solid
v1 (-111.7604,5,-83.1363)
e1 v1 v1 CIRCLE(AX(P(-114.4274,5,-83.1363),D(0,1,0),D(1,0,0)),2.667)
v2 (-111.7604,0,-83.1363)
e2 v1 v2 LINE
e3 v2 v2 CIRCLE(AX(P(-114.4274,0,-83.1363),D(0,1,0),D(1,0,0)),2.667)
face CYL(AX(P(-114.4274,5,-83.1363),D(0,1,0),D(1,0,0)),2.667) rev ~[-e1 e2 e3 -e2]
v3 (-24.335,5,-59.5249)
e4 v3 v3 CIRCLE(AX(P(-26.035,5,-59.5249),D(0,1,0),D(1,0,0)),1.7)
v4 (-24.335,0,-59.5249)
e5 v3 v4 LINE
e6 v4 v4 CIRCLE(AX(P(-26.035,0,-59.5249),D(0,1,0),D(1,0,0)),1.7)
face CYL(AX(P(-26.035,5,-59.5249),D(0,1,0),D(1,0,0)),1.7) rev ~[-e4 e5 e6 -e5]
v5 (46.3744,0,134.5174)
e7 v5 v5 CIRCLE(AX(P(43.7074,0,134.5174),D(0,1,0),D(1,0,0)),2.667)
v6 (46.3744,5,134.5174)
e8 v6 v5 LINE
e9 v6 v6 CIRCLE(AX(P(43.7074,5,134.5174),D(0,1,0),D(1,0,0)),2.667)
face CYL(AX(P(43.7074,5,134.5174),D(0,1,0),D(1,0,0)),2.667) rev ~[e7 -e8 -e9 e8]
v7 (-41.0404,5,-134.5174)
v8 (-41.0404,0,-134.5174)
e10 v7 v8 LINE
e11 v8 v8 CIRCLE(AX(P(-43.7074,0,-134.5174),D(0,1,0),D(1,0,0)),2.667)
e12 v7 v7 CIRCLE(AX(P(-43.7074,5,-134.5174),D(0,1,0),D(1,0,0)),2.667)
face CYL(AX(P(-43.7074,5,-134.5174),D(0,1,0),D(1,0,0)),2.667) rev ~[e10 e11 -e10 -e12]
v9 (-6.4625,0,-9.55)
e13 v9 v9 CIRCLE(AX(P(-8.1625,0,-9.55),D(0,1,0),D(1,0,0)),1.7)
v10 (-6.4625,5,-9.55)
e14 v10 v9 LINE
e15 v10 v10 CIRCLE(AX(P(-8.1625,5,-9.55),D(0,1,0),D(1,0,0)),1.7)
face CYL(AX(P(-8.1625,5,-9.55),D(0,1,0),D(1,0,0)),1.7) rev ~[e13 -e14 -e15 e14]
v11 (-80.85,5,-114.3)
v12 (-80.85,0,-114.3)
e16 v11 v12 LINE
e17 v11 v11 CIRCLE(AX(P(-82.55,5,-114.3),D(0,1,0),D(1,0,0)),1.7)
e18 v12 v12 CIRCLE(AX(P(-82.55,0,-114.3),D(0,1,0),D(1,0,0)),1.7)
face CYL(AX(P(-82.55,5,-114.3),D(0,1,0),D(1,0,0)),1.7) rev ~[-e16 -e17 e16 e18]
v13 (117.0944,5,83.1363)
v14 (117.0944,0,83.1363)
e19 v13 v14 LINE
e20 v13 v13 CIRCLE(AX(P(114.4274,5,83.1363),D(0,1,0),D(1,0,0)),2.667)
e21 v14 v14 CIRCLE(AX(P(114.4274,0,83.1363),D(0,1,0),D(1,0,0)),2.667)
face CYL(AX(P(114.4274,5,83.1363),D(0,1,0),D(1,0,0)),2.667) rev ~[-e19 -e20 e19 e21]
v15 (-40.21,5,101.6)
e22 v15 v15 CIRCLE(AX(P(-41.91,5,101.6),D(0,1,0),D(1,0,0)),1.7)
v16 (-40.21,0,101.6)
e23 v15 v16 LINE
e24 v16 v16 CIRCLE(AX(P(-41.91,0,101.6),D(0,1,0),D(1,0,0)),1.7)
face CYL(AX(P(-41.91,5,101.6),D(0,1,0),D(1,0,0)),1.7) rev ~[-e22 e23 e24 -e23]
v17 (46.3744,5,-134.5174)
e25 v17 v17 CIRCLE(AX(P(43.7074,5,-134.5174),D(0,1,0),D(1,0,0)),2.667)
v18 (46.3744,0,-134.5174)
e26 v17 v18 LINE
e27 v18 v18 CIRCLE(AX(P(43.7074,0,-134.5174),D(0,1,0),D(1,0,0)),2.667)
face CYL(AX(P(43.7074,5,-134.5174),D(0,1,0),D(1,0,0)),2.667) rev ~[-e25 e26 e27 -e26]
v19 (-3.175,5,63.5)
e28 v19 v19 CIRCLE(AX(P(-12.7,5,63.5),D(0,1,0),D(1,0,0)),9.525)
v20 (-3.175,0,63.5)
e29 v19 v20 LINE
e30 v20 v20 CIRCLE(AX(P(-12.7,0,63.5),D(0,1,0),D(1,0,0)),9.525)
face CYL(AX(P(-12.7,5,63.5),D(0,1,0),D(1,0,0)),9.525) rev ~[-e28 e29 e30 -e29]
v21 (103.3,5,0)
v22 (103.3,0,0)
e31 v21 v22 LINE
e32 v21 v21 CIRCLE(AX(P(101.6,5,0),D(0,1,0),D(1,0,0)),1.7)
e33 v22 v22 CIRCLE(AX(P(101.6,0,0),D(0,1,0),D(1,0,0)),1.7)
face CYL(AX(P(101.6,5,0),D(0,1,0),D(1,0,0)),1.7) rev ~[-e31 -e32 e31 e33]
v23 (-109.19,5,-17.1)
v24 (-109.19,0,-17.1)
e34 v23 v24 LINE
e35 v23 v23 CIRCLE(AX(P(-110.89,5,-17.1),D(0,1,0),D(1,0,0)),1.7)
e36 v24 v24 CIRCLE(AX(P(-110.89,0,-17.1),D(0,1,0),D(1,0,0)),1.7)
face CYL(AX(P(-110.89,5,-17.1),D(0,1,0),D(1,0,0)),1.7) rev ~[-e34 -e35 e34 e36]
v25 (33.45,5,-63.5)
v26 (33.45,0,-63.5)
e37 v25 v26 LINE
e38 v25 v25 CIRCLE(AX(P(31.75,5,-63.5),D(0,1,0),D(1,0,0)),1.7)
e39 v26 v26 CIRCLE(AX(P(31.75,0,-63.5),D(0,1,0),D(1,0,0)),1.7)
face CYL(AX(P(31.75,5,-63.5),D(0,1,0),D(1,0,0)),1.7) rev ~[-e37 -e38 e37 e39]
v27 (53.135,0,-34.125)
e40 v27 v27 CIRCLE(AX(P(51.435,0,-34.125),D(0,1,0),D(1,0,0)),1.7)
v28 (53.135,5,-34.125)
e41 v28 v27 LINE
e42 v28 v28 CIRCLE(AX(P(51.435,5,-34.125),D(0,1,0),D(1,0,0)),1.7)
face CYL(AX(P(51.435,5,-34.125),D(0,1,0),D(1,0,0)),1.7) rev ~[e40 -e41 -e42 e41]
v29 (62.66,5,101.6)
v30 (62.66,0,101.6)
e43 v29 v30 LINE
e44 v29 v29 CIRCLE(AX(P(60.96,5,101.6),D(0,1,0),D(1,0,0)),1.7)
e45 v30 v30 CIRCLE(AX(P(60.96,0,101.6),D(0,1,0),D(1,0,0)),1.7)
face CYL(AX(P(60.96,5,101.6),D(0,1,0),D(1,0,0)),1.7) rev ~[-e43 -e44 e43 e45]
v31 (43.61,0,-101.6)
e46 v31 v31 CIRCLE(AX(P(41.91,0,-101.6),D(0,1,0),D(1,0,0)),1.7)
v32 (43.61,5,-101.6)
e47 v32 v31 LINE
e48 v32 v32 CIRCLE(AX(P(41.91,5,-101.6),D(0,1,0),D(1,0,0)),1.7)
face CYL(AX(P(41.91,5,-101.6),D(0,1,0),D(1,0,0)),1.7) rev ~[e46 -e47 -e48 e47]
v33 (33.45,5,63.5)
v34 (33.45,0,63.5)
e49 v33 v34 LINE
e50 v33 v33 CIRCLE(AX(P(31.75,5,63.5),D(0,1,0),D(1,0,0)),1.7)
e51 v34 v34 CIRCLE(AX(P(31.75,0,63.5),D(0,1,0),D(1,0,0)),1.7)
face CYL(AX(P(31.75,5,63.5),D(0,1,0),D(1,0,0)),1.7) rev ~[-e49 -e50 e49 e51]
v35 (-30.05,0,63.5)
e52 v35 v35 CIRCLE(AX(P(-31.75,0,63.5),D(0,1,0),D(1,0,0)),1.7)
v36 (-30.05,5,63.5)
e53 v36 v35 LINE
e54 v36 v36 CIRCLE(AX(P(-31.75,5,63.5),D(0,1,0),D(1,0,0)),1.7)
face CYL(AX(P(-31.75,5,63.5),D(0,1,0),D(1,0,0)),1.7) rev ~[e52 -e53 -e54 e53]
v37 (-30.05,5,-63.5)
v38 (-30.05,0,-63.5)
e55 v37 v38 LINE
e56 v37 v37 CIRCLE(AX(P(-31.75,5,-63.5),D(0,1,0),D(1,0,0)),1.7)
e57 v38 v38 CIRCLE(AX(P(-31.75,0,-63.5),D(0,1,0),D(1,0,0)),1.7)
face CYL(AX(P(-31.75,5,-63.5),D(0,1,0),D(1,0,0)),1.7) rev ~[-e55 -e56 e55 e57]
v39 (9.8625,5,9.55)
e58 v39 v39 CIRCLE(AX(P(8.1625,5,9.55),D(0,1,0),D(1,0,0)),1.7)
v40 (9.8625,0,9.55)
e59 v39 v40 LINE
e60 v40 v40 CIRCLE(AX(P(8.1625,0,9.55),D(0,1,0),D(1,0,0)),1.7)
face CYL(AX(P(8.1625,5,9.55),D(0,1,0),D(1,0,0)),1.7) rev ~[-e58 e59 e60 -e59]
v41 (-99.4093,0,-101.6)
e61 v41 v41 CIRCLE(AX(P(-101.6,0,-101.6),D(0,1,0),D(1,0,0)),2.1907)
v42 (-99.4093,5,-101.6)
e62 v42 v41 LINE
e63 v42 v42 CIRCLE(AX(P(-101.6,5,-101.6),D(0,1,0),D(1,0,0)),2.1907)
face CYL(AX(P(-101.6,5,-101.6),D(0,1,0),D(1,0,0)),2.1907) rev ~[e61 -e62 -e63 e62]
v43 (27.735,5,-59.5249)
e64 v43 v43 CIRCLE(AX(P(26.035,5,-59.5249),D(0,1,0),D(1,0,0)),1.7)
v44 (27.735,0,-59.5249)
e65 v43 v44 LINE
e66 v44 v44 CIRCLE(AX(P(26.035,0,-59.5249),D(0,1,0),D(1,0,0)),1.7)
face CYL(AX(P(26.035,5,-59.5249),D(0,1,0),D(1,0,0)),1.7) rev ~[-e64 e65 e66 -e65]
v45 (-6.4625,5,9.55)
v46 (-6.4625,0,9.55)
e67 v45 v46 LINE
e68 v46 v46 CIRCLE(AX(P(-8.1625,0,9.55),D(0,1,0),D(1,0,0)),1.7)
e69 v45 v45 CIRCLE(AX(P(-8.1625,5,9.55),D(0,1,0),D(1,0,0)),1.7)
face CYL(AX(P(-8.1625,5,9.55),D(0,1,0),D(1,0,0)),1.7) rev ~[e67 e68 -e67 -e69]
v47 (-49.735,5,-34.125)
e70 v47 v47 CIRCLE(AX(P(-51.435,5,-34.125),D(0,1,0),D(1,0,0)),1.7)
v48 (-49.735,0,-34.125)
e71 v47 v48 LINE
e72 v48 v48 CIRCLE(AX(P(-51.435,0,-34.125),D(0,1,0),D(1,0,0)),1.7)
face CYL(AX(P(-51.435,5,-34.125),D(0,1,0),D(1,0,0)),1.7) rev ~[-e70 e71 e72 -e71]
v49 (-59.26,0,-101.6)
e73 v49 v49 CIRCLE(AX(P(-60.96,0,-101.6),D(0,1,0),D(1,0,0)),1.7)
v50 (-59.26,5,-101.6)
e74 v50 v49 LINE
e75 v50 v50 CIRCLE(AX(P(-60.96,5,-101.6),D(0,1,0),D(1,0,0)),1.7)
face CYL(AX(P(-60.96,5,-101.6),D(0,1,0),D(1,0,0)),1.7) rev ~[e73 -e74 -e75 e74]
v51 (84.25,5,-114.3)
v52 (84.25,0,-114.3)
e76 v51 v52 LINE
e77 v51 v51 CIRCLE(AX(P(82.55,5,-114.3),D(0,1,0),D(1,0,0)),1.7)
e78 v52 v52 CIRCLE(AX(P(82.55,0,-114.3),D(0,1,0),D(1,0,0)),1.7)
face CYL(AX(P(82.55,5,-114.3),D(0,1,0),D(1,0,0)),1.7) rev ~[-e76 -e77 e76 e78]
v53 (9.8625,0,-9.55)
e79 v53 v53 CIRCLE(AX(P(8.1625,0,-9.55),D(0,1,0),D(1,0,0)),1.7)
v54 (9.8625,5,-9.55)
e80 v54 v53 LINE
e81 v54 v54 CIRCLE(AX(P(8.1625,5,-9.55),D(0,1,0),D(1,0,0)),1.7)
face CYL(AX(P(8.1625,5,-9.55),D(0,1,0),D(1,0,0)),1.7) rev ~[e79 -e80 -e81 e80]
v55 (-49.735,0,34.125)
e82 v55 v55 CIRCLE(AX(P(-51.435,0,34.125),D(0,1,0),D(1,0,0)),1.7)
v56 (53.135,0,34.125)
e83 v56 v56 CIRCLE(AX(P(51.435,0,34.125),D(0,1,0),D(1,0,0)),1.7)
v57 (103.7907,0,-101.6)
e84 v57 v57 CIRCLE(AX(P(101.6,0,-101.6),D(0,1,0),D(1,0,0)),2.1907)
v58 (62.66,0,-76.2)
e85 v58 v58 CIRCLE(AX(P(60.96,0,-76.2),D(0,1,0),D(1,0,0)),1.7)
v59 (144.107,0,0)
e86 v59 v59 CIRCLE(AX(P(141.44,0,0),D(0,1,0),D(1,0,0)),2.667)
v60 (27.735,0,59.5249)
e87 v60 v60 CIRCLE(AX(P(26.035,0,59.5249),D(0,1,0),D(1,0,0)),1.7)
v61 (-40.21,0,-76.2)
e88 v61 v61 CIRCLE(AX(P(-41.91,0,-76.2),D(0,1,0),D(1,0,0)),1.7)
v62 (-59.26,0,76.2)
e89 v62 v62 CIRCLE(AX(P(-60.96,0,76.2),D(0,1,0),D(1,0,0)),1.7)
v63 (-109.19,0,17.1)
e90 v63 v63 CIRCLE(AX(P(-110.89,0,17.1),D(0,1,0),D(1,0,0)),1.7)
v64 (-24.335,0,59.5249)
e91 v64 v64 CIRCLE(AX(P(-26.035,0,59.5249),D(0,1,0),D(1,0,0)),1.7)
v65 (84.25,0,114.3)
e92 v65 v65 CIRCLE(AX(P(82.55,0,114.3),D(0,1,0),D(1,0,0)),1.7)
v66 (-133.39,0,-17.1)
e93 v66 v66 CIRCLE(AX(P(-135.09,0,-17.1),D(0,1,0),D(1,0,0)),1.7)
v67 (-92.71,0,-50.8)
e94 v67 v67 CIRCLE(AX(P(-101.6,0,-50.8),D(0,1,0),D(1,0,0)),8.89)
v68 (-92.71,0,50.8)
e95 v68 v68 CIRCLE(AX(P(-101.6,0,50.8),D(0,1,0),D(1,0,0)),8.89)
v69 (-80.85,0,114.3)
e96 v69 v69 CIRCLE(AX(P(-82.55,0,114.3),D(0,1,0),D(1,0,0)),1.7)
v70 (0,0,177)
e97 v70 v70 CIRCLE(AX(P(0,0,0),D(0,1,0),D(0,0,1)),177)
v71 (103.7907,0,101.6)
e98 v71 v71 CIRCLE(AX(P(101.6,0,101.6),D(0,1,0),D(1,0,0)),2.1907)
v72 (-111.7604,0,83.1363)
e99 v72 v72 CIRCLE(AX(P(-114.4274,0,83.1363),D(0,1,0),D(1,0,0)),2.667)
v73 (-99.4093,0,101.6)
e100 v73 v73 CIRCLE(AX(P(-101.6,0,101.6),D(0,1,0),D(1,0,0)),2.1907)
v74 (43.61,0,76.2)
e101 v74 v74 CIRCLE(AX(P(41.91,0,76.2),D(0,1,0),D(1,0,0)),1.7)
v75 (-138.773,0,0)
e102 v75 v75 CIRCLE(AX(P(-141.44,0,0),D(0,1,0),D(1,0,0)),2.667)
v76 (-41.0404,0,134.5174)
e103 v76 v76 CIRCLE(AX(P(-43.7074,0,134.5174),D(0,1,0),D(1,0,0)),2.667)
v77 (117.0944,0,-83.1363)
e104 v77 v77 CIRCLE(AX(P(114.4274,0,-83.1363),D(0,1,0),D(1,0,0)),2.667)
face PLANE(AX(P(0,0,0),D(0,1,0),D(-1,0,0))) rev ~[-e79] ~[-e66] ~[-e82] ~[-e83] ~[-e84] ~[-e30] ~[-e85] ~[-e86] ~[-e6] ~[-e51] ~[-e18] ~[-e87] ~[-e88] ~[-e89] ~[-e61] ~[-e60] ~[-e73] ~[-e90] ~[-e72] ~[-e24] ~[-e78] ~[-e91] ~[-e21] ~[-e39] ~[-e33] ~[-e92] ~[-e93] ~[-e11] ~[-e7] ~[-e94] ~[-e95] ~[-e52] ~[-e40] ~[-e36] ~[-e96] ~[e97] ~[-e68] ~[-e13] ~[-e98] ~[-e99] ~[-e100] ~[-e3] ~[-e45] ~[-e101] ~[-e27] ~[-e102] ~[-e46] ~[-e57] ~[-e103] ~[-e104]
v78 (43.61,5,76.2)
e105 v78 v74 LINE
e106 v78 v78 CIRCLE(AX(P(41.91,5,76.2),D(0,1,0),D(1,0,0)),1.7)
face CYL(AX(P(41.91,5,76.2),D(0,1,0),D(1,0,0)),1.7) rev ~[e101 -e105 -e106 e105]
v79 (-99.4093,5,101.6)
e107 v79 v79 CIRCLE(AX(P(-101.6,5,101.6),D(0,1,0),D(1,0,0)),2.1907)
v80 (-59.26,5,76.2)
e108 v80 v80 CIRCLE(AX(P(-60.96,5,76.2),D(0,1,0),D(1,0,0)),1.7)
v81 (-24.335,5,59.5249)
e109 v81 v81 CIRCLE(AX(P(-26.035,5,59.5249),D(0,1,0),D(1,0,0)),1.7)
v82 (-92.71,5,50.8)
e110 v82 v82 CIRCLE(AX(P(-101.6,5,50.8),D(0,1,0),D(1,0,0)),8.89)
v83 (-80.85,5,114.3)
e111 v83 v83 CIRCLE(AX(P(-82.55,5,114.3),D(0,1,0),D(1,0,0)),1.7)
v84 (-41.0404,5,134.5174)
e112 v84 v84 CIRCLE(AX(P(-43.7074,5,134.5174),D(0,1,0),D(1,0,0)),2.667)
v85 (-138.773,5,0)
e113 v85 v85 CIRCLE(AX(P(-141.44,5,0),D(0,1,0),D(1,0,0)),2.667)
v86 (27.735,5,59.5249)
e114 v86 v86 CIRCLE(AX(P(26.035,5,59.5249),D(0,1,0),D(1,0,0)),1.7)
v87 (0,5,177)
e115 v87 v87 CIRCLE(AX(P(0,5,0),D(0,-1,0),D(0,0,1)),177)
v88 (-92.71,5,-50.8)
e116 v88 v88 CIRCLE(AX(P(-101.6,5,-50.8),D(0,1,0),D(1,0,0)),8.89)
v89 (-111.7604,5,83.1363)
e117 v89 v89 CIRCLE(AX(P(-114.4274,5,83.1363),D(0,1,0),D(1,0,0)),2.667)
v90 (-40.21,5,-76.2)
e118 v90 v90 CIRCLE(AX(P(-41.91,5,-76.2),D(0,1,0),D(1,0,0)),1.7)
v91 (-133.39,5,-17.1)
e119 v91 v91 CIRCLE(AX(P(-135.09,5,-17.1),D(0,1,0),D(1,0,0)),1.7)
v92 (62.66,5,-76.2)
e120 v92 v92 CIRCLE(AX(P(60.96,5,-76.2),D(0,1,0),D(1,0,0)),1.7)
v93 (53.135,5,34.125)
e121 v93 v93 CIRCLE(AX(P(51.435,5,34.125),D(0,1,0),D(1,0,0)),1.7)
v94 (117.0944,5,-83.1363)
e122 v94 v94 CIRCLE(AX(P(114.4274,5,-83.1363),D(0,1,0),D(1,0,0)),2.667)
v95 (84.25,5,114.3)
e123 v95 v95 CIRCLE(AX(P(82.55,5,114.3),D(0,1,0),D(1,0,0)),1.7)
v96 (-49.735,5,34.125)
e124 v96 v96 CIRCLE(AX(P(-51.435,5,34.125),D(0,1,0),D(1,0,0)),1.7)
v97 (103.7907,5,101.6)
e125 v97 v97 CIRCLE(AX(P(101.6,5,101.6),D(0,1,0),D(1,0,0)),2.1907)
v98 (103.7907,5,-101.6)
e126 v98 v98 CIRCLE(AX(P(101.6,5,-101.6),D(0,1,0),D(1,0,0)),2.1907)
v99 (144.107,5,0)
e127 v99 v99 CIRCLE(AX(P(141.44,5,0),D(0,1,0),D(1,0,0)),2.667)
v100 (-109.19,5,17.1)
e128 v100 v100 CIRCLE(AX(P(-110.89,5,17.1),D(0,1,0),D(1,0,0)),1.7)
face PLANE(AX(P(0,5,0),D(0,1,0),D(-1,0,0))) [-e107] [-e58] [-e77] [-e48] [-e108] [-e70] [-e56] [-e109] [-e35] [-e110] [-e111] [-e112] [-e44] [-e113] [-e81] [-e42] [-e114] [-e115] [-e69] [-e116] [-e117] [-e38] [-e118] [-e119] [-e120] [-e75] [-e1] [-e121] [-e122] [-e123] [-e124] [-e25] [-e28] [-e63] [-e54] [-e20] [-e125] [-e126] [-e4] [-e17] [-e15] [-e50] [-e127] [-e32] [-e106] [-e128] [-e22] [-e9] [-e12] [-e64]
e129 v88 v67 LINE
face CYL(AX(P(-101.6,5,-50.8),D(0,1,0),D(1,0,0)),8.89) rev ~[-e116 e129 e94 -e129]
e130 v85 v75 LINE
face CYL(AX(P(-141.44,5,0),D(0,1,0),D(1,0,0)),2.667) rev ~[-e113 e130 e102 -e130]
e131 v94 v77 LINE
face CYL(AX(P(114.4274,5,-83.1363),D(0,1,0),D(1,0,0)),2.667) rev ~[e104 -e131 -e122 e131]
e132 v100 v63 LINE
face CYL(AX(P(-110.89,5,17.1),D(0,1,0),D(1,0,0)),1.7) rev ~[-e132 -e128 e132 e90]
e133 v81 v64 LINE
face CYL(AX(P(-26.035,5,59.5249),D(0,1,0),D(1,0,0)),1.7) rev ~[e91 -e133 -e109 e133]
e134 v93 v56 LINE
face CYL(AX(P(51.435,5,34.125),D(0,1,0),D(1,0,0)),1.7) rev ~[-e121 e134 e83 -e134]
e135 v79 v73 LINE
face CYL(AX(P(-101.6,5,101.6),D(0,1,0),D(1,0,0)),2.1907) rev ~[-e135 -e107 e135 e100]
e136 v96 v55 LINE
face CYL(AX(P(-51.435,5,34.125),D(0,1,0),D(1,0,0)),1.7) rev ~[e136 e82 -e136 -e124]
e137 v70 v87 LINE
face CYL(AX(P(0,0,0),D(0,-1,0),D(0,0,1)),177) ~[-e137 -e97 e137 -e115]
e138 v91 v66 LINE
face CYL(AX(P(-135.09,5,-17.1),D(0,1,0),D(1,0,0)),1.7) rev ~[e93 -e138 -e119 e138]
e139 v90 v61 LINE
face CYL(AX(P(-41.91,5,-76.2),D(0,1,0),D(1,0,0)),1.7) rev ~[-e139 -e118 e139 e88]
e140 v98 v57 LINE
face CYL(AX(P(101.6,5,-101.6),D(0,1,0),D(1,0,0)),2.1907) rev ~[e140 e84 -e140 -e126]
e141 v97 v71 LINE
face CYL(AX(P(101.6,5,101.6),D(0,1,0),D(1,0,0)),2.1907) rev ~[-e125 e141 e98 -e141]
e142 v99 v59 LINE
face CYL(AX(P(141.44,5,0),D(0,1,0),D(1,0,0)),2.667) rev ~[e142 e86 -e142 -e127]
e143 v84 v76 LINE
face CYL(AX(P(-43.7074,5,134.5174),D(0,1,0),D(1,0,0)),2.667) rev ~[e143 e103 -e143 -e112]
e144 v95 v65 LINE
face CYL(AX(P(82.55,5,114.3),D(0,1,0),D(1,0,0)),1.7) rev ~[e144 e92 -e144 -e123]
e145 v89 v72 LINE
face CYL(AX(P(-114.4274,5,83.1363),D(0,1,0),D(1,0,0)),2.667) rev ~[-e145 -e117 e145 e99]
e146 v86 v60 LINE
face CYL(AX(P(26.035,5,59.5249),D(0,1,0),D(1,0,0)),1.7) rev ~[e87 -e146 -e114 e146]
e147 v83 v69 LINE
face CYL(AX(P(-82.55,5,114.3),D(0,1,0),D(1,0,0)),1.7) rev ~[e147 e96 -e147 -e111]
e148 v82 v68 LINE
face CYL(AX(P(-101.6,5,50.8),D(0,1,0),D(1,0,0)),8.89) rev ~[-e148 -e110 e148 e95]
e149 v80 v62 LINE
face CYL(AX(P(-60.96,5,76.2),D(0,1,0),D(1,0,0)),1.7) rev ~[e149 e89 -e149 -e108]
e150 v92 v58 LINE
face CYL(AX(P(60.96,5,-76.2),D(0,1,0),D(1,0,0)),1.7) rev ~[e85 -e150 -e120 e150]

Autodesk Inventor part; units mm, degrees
ref_plane "YZ Plane" through (0, 0, 0) normal (1, 0, 0) x (0, 1, 0)
ref_plane "XZ Plane" through (0, 0, 0) normal (0, 1, 0) x (-1, 0, 0)
ref_plane "XY Plane" through (0, 0, 0) normal (0, 0, 1) x (1, 0, 0)
sketch "Sketch1" plane through (0, 0, 0) normal (0, 1, 0) x (-1, 0, 0)
  arc A0 (0, -177) -> (0, 177) centre (0, 0) ccw
  arc A1 (0, 177) -> (0, -177) centre (0, 0) ccw
  point P0 (-177, 177)
  point P1 (-177, -177)
  dimension "d0" = 354
extrude "Extrusion1" add sketch "Sketch1" along normal blind 5
sketch "Sketch2" plane through (0, 5, 0) normal (0, 1, 0) x (1, 0, 0)
  circle A0 centre (-51.435, -34.125) radius 1.7
  circle A1 centre (-51.435, 34.125) radius 1.7
  circle A2 centre (51.435, 34.125) radius 1.7
  circle A3 centre (51.435, -34.125) radius 1.7
  line L0 (151.6, 177) -> (0, 177) construction
  line L1 (0, -177) -> (0, 177) construction
  circle A4 centre (0, 0) radius 177 construction
  line L2 (-177, 0) -> (177, 0) construction
  circle A5 centre (26.035, 59.5249) radius 1.7
  circle A6 centre (26.035, -59.5249) radius 1.7
  circle A7 centre (-26.035, 59.5249) radius 1.7
  circle A8 centre (-26.035, -59.5249) radius 1.7
  point P0 (177, 177)
  dimension "d5" = 3.4
  dimension "d6" = 3.4
  dimension "d8" = 3.4
  dimension "d10" = 3.4
  dimension "d12" = 68.25
  dimension "d13" = 68.25
  dimension "d14" = 102.87
  dimension "d15" = 102.87
  dimension "d18" = 51.435
  dimension "d19" = 51.435
  dimension "d20" = 34.125
  dimension "d21" = 34.125
  dimension "d153" = 3.4
  dimension "d155" = 3.4
  dimension "d157" = 3.4
  dimension "d159" = 3.4
  dimension "d161" = 52.07
  dimension "d162" = 26.035
  dimension "d163" = 52.07
  dimension "d164" = 26.035
  dimension "d165" = 119.0498
  dimension "d166" = 119.0498
  dimension "d167" = 59.5249
  dimension "d168" = 59.5249
extrude "Jetson Holes" cut sketch "Sketch2" against normal through all
sketch "Sketch3" plane through (0, 5, 0) normal (0, 1, 0) x (1, 0, 0)
  circle A0 centre (-12.7, -63.5) radius 9.525
  circle A1 centre (0, 0) radius 177 construction
  line L0 (151.6, 177) -> (0, 177) construction
  line L1 (-177, 0) -> (0, 0) construction
  line L2 (0, 0) -> (0, -177) construction
  point P0 (177, 177)
  dimension "d24" = 19.05
  dimension "d189" = 63.5
  dimension "d190" = 12.7
extrude "SPI_Holes" cut sketch "Sketch3" against normal through all
sketch "Sketch4" plane through (0, 5, 0) normal (0, 1, 0) x (1, 0, 0)
  circle A0 centre (-60.96, -76.2) radius 1.7
  circle A1 centre (60.96, -101.6) radius 1.7
  circle A2 centre (60.96, 76.2) radius 1.7
  circle A3 centre (-60.96, 101.6) radius 1.7
  line L0 (177, 0) -> (-177, 0) construction
  circle A4 centre (-12.7, -63.5) radius 9.525 construction
  circle A5 centre (-101.6, 50.8) radius 8.89
  circle A6 centre (-101.6, -50.8) radius 8.89
  circle A7 centre (41.91, -76.2) radius 1.7
  circle A8 centre (-41.91, -101.6) radius 1.7
  circle A9 centre (-41.91, 76.2) radius 1.7
  circle A10 centre (41.91, 101.6) radius 1.7
  point P0 (0, 0)
  point P1 (0, -177)
  dimension "d30" = 3.4
  dimension "d31" = 3.4
  dimension "d33" = 3.4
  dimension "d35" = 3.4
  dimension "d37" = 121.92
  dimension "d38" = 121.92
  dimension "d39" = 25.4
  dimension "d40" = 25.4
  dimension "d43" = 12.7
  dimension "d44" = 177.8
  dimension "d45" = 17.78
  dimension "d46" = 17.78
  dimension "d47" = 50.8
  dimension "d48" = 50.8
  dimension "d139" = 3.4
  dimension "d140" = 19.05
  dimension "d141" = 25.4
  dimension "d142" = 3.4
  dimension "d143" = 19.05
  dimension "d144" = 25.4
  dimension "d145" = 3.4
  dimension "d147" = 3.4
  dimension "d149" = 25.4
  dimension "d150" = 25.4
  dimension "d151" = 19.05
  dimension "d152" = 19.05
extrude "NiMH Holes" cut sketch "Sketch4" against normal through all
sketch "Sketch5" plane through (0, 5, 0) normal (0, 1, 0) x (1, 0, 0)
  circle A0 centre (-8.1625, 9.55) radius 1.7
  circle A1 centre (-8.1625, -9.55) radius 1.7
  circle A2 centre (8.1625, -9.55) radius 1.7
  circle A3 centre (8.1625, 9.55) radius 1.7
  line L0 (-177, 0) -> (177, 0)
  line L1 (0, 177) -> (0, -177) construction
  circle A4 centre (0, 0) radius 177 construction
  dimension "d53" = 3.4
  dimension "d54" = 3.4
  dimension "d56" = 3.4
  dimension "d58" = 3.4
  dimension "d60" = 16.325
  dimension "d61" = 16.325
  dimension "d62" = 19.1
  dimension "d63" = 19.1
  dimension "d66" = 9.55
  dimension "d67" = 9.55
  dimension "d191" = 8.1625
  dimension "d192" = 8.1625
extrude "IMU Holes" cut sketch "Sketch5" against normal through all
sketch "Sketch8" plane through (0, 5, 0) normal (0, 1, 0) x (1, 0, 0)
  circle A0 centre (-101.6, 101.6) radius 2.1907
  circle A1 centre (-101.6, -101.6) radius 2.1907
  circle A2 centre (101.6, -101.6) radius 2.1907
  circle A3 centre (101.6, 101.6) radius 2.1907
  line L0 (177, 0) -> (-177, 0) construction
  circle A4 centre (101.6, 0) radius 1.7
  point P0 (0, 0)
  dimension "d97" = 4.3815
  dimension "d98" = 4.3815
  dimension "d100" = 4.3815
  dimension "d102" = 4.3815
  dimension "d105" = 101.6
  dimension "d106" = 101.6
  dimension "d110" = 101.6
  dimension "d111" = 101.6
  dimension "d169" = 3.4
extrude "Level1 Standoffs" cut sketch "Sketch8" against normal through all
sketch "Sketch6" plane through (0, 5, 0) normal (0, 1, 0) x (1, 0, 0)
  circle A0 centre (-82.55, -114.3) radius 1.7
  circle A1 centre (-82.55, 114.3) radius 1.7
  circle A2 centre (82.55, 114.3) radius 1.7
  circle A3 centre (82.55, -114.3) radius 1.7
  point P0 (0, 0)
  point P1 (0, 177)
  dimension "d70" = 3.4
  dimension "d71" = 3.4
  dimension "d73" = 3.4
  dimension "d75" = 3.4
extrude "Level3 Standoffs" cut sketch "Sketch6" against normal through all
sketch "Sketch7" plane through (0, 5, 0) normal (0, 1, 0) x (1, 0, 0)
  line L0 (177, 0) -> (-177, 0) construction
  circle A0 centre (0, 0) radius 177 construction
  circle A1 centre (-141.44, 0) radius 2.667
  circle A2 centre (-114.4274, -83.1363) radius 2.667
  circle A3 centre (-114.4274, 83.1363) radius 2.667
  circle A4 centre (-43.7074, -134.5174) radius 2.667
  circle A5 centre (-43.7074, 134.5174) radius 2.667
  line L1 (0, 177) -> (0, -181.7127) construction
  circle A6 centre (141.44, 0) radius 2.667
  circle A7 centre (114.4274, -83.1363) radius 2.667
  circle A8 centre (114.4274, 83.1363) radius 2.667
  circle A9 centre (43.7074, -134.5174) radius 2.667
  circle A10 centre (43.7074, 134.5174) radius 2.667
  point P0 (-177, 0)
  point P1 (177, 0)
  dimension "d91" = 5.334
  dimension "d92" = 35.56
  dimension "d95" = 144
extrude "Zip Ties" cut sketch "Sketch7" against normal through all
sketch "Sketch9" plane through (0, 5, 0) normal (0, 1, 0) x (1, 0, 0)
  circle A0 centre (-110.89, 17.1) radius 1.7
  circle A1 centre (-110.89, -17.1) radius 1.7
  circle A2 centre (-135.09, 17.1) radius 1.7
  line L0 (0, 0) -> (-177, 0) construction
  circle A3 centre (0, 0) radius 177 construction
  circle A4 centre (-141.44, 0) radius 2.667 construction
  point P0 (0, 177)
  point P1 (0, -177)
  dimension "d171" = 3.4
  dimension "d172" = 3.4
  dimension "d174" = 3.4
  dimension "d176" = 24.2
  dimension "d177" = 34.2
  dimension "d178" = 17.1
  dimension "d179" = 6.35
  dimension "d180" = 17.1
  dimension "d181" = 17.1
extrude "Mic_MCU_Case" cut sketch "Sketch9" against normal blind 25.4
sketch "Sketch12" plane through (0, 5, 0) normal (0, 1, 0) x (1, 0, 0)
  circle A0 centre (31.75, 63.5) radius 1.7
  circle A1 centre (-31.75, 63.5) radius 1.7
  circle A2 centre (-31.75, -63.5) radius 1.7
  circle A3 centre (31.75, -63.5) radius 1.7
  point P0 (0, 0)
  dimension "d193" = 3.4
  dimension "d194" = 3.4
  dimension "d195" = 3.4
  dimension "d196" = 3.4
  dimension "d197" = 63.5
  dimension "d198" = 63.5
  dimension "d199" = 63.5
  dimension "d200" = 63.5
  dimension "d201" = 31.75
  dimension "d202" = 31.75
  dimension "d203" = 31.75
  dimension "d204" = 31.75
extrude "LiDAR Standoffs" cut sketch "Sketch12" against normal blind 25.4
equation "\"d0\" = robot_diameter"
equation "\"d3\" = hardboard_thickness"
equation "\"d5\" = m3_clearance"
equation "\"d6\" = d7"
equation "\"d8\" = d9"
equation "\"d10\" = d11"
equation "\"d13\" = d12"
equation "\"d19\" = d18"
equation "\"d20\" = d21"
equation "\"d21\" = 0.5 * d12"
equation "\"d153\" = d154"
equation "\"d155\" = d156"
equation "\"d157\" = d158"
equation "\"d159\" = d160"
equation "\"d162\" = 0.5 * d161"
equation "\"d163\" = d161"
equation "\"d164\" = d162"
equation "\"d166\" = d165"
equation "\"d167\" = 0.5 * d165"
equation "\"d168\" = d167"
equation "\"d30\" = m3_clearance"
equation "\"d31\" = d32"
equation "\"d33\" = d34"
equation "\"d35\" = d36"
equation "\"d38\" = d37"
equation "\"d40\" = d39"
equation "\"d46\" = d45"
equation "\"d48\" = d47"
equation "\"d139\" = m3_clearance"
equation "\"d141\" = d40"
equation "\"d142\" = m3_clearance"
equation "\"d144\" = d40"
equation "\"d145\" = d146"
equation "\"d147\" = d148"
equation "\"d149\" = d39"
equation "\"d150\" = d39"
equation "\"d152\" = d151"
equation "\"d53\" = m3_clearance"
equation "\"d54\" = d55"
equation "\"d56\" = d57"
equation "\"d58\" = d59"
equation "\"d61\" = d60"
equation "\"d63\" = d62"
equation "\"d66\" = 0.5 * d63"
equation "\"d67\" = d66"
equation "\"d106\" = d105"
equation "\"d110\" = d105"
equation "\"d111\" = d105"
equation "\"d169\" = m3_clearance"
equation "\"d70\" = m3_clearance"
equation "\"d71\" = d72"
equation "\"d73\" = d74"
equation "\"d75\" = d76"
equation "\"d171\" = m3_clearance"
equation "\"d172\" = d173"
equation "\"d174\" = d175"
equation "\"d178\" = 0.5 * d177"
equation "\"d180\" = d178"
equation "\"d181\" = d178"
equation "\"m3_heat_set_insert\" = 4"
equation "\"m3_clearance\" = 3.4"
equation "\"m3_heat_set_depth\" = 7"
equation "\"robot_diameter\" = 354"
equation "\"hardboard_thickness\" = 5"
equation "\"motor_centerline_height\" = 13"
equation "\"d7\" = 3.4"
equation "\"d9\" = 3.4"
equation "\"d11\" = 3.4"
equation "\"d154\" = 3.4"
equation "\"d156\" = 3.4"
equation "\"d158\" = 3.4"
equation "\"d160\" = 3.4"
equation "\"d32\" = 3.4"
equation "\"d34\" = 3.4"
equation "\"d36\" = 3.4"
equation "\"d146\" = 3.4"
equation "\"d148\" = 3.4"
equation "\"d55\" = 3.4"
equation "\"d57\" = 3.4"
equation "\"d59\" = 3.4"
equation "\"d72\" = 3.4"
equation "\"d74\" = 3.4"
equation "\"d76\" = 3.4"
equation "\"d173\" = 3.4"
equation "\"d175\" = 3.4"
properties part number "layer2"
